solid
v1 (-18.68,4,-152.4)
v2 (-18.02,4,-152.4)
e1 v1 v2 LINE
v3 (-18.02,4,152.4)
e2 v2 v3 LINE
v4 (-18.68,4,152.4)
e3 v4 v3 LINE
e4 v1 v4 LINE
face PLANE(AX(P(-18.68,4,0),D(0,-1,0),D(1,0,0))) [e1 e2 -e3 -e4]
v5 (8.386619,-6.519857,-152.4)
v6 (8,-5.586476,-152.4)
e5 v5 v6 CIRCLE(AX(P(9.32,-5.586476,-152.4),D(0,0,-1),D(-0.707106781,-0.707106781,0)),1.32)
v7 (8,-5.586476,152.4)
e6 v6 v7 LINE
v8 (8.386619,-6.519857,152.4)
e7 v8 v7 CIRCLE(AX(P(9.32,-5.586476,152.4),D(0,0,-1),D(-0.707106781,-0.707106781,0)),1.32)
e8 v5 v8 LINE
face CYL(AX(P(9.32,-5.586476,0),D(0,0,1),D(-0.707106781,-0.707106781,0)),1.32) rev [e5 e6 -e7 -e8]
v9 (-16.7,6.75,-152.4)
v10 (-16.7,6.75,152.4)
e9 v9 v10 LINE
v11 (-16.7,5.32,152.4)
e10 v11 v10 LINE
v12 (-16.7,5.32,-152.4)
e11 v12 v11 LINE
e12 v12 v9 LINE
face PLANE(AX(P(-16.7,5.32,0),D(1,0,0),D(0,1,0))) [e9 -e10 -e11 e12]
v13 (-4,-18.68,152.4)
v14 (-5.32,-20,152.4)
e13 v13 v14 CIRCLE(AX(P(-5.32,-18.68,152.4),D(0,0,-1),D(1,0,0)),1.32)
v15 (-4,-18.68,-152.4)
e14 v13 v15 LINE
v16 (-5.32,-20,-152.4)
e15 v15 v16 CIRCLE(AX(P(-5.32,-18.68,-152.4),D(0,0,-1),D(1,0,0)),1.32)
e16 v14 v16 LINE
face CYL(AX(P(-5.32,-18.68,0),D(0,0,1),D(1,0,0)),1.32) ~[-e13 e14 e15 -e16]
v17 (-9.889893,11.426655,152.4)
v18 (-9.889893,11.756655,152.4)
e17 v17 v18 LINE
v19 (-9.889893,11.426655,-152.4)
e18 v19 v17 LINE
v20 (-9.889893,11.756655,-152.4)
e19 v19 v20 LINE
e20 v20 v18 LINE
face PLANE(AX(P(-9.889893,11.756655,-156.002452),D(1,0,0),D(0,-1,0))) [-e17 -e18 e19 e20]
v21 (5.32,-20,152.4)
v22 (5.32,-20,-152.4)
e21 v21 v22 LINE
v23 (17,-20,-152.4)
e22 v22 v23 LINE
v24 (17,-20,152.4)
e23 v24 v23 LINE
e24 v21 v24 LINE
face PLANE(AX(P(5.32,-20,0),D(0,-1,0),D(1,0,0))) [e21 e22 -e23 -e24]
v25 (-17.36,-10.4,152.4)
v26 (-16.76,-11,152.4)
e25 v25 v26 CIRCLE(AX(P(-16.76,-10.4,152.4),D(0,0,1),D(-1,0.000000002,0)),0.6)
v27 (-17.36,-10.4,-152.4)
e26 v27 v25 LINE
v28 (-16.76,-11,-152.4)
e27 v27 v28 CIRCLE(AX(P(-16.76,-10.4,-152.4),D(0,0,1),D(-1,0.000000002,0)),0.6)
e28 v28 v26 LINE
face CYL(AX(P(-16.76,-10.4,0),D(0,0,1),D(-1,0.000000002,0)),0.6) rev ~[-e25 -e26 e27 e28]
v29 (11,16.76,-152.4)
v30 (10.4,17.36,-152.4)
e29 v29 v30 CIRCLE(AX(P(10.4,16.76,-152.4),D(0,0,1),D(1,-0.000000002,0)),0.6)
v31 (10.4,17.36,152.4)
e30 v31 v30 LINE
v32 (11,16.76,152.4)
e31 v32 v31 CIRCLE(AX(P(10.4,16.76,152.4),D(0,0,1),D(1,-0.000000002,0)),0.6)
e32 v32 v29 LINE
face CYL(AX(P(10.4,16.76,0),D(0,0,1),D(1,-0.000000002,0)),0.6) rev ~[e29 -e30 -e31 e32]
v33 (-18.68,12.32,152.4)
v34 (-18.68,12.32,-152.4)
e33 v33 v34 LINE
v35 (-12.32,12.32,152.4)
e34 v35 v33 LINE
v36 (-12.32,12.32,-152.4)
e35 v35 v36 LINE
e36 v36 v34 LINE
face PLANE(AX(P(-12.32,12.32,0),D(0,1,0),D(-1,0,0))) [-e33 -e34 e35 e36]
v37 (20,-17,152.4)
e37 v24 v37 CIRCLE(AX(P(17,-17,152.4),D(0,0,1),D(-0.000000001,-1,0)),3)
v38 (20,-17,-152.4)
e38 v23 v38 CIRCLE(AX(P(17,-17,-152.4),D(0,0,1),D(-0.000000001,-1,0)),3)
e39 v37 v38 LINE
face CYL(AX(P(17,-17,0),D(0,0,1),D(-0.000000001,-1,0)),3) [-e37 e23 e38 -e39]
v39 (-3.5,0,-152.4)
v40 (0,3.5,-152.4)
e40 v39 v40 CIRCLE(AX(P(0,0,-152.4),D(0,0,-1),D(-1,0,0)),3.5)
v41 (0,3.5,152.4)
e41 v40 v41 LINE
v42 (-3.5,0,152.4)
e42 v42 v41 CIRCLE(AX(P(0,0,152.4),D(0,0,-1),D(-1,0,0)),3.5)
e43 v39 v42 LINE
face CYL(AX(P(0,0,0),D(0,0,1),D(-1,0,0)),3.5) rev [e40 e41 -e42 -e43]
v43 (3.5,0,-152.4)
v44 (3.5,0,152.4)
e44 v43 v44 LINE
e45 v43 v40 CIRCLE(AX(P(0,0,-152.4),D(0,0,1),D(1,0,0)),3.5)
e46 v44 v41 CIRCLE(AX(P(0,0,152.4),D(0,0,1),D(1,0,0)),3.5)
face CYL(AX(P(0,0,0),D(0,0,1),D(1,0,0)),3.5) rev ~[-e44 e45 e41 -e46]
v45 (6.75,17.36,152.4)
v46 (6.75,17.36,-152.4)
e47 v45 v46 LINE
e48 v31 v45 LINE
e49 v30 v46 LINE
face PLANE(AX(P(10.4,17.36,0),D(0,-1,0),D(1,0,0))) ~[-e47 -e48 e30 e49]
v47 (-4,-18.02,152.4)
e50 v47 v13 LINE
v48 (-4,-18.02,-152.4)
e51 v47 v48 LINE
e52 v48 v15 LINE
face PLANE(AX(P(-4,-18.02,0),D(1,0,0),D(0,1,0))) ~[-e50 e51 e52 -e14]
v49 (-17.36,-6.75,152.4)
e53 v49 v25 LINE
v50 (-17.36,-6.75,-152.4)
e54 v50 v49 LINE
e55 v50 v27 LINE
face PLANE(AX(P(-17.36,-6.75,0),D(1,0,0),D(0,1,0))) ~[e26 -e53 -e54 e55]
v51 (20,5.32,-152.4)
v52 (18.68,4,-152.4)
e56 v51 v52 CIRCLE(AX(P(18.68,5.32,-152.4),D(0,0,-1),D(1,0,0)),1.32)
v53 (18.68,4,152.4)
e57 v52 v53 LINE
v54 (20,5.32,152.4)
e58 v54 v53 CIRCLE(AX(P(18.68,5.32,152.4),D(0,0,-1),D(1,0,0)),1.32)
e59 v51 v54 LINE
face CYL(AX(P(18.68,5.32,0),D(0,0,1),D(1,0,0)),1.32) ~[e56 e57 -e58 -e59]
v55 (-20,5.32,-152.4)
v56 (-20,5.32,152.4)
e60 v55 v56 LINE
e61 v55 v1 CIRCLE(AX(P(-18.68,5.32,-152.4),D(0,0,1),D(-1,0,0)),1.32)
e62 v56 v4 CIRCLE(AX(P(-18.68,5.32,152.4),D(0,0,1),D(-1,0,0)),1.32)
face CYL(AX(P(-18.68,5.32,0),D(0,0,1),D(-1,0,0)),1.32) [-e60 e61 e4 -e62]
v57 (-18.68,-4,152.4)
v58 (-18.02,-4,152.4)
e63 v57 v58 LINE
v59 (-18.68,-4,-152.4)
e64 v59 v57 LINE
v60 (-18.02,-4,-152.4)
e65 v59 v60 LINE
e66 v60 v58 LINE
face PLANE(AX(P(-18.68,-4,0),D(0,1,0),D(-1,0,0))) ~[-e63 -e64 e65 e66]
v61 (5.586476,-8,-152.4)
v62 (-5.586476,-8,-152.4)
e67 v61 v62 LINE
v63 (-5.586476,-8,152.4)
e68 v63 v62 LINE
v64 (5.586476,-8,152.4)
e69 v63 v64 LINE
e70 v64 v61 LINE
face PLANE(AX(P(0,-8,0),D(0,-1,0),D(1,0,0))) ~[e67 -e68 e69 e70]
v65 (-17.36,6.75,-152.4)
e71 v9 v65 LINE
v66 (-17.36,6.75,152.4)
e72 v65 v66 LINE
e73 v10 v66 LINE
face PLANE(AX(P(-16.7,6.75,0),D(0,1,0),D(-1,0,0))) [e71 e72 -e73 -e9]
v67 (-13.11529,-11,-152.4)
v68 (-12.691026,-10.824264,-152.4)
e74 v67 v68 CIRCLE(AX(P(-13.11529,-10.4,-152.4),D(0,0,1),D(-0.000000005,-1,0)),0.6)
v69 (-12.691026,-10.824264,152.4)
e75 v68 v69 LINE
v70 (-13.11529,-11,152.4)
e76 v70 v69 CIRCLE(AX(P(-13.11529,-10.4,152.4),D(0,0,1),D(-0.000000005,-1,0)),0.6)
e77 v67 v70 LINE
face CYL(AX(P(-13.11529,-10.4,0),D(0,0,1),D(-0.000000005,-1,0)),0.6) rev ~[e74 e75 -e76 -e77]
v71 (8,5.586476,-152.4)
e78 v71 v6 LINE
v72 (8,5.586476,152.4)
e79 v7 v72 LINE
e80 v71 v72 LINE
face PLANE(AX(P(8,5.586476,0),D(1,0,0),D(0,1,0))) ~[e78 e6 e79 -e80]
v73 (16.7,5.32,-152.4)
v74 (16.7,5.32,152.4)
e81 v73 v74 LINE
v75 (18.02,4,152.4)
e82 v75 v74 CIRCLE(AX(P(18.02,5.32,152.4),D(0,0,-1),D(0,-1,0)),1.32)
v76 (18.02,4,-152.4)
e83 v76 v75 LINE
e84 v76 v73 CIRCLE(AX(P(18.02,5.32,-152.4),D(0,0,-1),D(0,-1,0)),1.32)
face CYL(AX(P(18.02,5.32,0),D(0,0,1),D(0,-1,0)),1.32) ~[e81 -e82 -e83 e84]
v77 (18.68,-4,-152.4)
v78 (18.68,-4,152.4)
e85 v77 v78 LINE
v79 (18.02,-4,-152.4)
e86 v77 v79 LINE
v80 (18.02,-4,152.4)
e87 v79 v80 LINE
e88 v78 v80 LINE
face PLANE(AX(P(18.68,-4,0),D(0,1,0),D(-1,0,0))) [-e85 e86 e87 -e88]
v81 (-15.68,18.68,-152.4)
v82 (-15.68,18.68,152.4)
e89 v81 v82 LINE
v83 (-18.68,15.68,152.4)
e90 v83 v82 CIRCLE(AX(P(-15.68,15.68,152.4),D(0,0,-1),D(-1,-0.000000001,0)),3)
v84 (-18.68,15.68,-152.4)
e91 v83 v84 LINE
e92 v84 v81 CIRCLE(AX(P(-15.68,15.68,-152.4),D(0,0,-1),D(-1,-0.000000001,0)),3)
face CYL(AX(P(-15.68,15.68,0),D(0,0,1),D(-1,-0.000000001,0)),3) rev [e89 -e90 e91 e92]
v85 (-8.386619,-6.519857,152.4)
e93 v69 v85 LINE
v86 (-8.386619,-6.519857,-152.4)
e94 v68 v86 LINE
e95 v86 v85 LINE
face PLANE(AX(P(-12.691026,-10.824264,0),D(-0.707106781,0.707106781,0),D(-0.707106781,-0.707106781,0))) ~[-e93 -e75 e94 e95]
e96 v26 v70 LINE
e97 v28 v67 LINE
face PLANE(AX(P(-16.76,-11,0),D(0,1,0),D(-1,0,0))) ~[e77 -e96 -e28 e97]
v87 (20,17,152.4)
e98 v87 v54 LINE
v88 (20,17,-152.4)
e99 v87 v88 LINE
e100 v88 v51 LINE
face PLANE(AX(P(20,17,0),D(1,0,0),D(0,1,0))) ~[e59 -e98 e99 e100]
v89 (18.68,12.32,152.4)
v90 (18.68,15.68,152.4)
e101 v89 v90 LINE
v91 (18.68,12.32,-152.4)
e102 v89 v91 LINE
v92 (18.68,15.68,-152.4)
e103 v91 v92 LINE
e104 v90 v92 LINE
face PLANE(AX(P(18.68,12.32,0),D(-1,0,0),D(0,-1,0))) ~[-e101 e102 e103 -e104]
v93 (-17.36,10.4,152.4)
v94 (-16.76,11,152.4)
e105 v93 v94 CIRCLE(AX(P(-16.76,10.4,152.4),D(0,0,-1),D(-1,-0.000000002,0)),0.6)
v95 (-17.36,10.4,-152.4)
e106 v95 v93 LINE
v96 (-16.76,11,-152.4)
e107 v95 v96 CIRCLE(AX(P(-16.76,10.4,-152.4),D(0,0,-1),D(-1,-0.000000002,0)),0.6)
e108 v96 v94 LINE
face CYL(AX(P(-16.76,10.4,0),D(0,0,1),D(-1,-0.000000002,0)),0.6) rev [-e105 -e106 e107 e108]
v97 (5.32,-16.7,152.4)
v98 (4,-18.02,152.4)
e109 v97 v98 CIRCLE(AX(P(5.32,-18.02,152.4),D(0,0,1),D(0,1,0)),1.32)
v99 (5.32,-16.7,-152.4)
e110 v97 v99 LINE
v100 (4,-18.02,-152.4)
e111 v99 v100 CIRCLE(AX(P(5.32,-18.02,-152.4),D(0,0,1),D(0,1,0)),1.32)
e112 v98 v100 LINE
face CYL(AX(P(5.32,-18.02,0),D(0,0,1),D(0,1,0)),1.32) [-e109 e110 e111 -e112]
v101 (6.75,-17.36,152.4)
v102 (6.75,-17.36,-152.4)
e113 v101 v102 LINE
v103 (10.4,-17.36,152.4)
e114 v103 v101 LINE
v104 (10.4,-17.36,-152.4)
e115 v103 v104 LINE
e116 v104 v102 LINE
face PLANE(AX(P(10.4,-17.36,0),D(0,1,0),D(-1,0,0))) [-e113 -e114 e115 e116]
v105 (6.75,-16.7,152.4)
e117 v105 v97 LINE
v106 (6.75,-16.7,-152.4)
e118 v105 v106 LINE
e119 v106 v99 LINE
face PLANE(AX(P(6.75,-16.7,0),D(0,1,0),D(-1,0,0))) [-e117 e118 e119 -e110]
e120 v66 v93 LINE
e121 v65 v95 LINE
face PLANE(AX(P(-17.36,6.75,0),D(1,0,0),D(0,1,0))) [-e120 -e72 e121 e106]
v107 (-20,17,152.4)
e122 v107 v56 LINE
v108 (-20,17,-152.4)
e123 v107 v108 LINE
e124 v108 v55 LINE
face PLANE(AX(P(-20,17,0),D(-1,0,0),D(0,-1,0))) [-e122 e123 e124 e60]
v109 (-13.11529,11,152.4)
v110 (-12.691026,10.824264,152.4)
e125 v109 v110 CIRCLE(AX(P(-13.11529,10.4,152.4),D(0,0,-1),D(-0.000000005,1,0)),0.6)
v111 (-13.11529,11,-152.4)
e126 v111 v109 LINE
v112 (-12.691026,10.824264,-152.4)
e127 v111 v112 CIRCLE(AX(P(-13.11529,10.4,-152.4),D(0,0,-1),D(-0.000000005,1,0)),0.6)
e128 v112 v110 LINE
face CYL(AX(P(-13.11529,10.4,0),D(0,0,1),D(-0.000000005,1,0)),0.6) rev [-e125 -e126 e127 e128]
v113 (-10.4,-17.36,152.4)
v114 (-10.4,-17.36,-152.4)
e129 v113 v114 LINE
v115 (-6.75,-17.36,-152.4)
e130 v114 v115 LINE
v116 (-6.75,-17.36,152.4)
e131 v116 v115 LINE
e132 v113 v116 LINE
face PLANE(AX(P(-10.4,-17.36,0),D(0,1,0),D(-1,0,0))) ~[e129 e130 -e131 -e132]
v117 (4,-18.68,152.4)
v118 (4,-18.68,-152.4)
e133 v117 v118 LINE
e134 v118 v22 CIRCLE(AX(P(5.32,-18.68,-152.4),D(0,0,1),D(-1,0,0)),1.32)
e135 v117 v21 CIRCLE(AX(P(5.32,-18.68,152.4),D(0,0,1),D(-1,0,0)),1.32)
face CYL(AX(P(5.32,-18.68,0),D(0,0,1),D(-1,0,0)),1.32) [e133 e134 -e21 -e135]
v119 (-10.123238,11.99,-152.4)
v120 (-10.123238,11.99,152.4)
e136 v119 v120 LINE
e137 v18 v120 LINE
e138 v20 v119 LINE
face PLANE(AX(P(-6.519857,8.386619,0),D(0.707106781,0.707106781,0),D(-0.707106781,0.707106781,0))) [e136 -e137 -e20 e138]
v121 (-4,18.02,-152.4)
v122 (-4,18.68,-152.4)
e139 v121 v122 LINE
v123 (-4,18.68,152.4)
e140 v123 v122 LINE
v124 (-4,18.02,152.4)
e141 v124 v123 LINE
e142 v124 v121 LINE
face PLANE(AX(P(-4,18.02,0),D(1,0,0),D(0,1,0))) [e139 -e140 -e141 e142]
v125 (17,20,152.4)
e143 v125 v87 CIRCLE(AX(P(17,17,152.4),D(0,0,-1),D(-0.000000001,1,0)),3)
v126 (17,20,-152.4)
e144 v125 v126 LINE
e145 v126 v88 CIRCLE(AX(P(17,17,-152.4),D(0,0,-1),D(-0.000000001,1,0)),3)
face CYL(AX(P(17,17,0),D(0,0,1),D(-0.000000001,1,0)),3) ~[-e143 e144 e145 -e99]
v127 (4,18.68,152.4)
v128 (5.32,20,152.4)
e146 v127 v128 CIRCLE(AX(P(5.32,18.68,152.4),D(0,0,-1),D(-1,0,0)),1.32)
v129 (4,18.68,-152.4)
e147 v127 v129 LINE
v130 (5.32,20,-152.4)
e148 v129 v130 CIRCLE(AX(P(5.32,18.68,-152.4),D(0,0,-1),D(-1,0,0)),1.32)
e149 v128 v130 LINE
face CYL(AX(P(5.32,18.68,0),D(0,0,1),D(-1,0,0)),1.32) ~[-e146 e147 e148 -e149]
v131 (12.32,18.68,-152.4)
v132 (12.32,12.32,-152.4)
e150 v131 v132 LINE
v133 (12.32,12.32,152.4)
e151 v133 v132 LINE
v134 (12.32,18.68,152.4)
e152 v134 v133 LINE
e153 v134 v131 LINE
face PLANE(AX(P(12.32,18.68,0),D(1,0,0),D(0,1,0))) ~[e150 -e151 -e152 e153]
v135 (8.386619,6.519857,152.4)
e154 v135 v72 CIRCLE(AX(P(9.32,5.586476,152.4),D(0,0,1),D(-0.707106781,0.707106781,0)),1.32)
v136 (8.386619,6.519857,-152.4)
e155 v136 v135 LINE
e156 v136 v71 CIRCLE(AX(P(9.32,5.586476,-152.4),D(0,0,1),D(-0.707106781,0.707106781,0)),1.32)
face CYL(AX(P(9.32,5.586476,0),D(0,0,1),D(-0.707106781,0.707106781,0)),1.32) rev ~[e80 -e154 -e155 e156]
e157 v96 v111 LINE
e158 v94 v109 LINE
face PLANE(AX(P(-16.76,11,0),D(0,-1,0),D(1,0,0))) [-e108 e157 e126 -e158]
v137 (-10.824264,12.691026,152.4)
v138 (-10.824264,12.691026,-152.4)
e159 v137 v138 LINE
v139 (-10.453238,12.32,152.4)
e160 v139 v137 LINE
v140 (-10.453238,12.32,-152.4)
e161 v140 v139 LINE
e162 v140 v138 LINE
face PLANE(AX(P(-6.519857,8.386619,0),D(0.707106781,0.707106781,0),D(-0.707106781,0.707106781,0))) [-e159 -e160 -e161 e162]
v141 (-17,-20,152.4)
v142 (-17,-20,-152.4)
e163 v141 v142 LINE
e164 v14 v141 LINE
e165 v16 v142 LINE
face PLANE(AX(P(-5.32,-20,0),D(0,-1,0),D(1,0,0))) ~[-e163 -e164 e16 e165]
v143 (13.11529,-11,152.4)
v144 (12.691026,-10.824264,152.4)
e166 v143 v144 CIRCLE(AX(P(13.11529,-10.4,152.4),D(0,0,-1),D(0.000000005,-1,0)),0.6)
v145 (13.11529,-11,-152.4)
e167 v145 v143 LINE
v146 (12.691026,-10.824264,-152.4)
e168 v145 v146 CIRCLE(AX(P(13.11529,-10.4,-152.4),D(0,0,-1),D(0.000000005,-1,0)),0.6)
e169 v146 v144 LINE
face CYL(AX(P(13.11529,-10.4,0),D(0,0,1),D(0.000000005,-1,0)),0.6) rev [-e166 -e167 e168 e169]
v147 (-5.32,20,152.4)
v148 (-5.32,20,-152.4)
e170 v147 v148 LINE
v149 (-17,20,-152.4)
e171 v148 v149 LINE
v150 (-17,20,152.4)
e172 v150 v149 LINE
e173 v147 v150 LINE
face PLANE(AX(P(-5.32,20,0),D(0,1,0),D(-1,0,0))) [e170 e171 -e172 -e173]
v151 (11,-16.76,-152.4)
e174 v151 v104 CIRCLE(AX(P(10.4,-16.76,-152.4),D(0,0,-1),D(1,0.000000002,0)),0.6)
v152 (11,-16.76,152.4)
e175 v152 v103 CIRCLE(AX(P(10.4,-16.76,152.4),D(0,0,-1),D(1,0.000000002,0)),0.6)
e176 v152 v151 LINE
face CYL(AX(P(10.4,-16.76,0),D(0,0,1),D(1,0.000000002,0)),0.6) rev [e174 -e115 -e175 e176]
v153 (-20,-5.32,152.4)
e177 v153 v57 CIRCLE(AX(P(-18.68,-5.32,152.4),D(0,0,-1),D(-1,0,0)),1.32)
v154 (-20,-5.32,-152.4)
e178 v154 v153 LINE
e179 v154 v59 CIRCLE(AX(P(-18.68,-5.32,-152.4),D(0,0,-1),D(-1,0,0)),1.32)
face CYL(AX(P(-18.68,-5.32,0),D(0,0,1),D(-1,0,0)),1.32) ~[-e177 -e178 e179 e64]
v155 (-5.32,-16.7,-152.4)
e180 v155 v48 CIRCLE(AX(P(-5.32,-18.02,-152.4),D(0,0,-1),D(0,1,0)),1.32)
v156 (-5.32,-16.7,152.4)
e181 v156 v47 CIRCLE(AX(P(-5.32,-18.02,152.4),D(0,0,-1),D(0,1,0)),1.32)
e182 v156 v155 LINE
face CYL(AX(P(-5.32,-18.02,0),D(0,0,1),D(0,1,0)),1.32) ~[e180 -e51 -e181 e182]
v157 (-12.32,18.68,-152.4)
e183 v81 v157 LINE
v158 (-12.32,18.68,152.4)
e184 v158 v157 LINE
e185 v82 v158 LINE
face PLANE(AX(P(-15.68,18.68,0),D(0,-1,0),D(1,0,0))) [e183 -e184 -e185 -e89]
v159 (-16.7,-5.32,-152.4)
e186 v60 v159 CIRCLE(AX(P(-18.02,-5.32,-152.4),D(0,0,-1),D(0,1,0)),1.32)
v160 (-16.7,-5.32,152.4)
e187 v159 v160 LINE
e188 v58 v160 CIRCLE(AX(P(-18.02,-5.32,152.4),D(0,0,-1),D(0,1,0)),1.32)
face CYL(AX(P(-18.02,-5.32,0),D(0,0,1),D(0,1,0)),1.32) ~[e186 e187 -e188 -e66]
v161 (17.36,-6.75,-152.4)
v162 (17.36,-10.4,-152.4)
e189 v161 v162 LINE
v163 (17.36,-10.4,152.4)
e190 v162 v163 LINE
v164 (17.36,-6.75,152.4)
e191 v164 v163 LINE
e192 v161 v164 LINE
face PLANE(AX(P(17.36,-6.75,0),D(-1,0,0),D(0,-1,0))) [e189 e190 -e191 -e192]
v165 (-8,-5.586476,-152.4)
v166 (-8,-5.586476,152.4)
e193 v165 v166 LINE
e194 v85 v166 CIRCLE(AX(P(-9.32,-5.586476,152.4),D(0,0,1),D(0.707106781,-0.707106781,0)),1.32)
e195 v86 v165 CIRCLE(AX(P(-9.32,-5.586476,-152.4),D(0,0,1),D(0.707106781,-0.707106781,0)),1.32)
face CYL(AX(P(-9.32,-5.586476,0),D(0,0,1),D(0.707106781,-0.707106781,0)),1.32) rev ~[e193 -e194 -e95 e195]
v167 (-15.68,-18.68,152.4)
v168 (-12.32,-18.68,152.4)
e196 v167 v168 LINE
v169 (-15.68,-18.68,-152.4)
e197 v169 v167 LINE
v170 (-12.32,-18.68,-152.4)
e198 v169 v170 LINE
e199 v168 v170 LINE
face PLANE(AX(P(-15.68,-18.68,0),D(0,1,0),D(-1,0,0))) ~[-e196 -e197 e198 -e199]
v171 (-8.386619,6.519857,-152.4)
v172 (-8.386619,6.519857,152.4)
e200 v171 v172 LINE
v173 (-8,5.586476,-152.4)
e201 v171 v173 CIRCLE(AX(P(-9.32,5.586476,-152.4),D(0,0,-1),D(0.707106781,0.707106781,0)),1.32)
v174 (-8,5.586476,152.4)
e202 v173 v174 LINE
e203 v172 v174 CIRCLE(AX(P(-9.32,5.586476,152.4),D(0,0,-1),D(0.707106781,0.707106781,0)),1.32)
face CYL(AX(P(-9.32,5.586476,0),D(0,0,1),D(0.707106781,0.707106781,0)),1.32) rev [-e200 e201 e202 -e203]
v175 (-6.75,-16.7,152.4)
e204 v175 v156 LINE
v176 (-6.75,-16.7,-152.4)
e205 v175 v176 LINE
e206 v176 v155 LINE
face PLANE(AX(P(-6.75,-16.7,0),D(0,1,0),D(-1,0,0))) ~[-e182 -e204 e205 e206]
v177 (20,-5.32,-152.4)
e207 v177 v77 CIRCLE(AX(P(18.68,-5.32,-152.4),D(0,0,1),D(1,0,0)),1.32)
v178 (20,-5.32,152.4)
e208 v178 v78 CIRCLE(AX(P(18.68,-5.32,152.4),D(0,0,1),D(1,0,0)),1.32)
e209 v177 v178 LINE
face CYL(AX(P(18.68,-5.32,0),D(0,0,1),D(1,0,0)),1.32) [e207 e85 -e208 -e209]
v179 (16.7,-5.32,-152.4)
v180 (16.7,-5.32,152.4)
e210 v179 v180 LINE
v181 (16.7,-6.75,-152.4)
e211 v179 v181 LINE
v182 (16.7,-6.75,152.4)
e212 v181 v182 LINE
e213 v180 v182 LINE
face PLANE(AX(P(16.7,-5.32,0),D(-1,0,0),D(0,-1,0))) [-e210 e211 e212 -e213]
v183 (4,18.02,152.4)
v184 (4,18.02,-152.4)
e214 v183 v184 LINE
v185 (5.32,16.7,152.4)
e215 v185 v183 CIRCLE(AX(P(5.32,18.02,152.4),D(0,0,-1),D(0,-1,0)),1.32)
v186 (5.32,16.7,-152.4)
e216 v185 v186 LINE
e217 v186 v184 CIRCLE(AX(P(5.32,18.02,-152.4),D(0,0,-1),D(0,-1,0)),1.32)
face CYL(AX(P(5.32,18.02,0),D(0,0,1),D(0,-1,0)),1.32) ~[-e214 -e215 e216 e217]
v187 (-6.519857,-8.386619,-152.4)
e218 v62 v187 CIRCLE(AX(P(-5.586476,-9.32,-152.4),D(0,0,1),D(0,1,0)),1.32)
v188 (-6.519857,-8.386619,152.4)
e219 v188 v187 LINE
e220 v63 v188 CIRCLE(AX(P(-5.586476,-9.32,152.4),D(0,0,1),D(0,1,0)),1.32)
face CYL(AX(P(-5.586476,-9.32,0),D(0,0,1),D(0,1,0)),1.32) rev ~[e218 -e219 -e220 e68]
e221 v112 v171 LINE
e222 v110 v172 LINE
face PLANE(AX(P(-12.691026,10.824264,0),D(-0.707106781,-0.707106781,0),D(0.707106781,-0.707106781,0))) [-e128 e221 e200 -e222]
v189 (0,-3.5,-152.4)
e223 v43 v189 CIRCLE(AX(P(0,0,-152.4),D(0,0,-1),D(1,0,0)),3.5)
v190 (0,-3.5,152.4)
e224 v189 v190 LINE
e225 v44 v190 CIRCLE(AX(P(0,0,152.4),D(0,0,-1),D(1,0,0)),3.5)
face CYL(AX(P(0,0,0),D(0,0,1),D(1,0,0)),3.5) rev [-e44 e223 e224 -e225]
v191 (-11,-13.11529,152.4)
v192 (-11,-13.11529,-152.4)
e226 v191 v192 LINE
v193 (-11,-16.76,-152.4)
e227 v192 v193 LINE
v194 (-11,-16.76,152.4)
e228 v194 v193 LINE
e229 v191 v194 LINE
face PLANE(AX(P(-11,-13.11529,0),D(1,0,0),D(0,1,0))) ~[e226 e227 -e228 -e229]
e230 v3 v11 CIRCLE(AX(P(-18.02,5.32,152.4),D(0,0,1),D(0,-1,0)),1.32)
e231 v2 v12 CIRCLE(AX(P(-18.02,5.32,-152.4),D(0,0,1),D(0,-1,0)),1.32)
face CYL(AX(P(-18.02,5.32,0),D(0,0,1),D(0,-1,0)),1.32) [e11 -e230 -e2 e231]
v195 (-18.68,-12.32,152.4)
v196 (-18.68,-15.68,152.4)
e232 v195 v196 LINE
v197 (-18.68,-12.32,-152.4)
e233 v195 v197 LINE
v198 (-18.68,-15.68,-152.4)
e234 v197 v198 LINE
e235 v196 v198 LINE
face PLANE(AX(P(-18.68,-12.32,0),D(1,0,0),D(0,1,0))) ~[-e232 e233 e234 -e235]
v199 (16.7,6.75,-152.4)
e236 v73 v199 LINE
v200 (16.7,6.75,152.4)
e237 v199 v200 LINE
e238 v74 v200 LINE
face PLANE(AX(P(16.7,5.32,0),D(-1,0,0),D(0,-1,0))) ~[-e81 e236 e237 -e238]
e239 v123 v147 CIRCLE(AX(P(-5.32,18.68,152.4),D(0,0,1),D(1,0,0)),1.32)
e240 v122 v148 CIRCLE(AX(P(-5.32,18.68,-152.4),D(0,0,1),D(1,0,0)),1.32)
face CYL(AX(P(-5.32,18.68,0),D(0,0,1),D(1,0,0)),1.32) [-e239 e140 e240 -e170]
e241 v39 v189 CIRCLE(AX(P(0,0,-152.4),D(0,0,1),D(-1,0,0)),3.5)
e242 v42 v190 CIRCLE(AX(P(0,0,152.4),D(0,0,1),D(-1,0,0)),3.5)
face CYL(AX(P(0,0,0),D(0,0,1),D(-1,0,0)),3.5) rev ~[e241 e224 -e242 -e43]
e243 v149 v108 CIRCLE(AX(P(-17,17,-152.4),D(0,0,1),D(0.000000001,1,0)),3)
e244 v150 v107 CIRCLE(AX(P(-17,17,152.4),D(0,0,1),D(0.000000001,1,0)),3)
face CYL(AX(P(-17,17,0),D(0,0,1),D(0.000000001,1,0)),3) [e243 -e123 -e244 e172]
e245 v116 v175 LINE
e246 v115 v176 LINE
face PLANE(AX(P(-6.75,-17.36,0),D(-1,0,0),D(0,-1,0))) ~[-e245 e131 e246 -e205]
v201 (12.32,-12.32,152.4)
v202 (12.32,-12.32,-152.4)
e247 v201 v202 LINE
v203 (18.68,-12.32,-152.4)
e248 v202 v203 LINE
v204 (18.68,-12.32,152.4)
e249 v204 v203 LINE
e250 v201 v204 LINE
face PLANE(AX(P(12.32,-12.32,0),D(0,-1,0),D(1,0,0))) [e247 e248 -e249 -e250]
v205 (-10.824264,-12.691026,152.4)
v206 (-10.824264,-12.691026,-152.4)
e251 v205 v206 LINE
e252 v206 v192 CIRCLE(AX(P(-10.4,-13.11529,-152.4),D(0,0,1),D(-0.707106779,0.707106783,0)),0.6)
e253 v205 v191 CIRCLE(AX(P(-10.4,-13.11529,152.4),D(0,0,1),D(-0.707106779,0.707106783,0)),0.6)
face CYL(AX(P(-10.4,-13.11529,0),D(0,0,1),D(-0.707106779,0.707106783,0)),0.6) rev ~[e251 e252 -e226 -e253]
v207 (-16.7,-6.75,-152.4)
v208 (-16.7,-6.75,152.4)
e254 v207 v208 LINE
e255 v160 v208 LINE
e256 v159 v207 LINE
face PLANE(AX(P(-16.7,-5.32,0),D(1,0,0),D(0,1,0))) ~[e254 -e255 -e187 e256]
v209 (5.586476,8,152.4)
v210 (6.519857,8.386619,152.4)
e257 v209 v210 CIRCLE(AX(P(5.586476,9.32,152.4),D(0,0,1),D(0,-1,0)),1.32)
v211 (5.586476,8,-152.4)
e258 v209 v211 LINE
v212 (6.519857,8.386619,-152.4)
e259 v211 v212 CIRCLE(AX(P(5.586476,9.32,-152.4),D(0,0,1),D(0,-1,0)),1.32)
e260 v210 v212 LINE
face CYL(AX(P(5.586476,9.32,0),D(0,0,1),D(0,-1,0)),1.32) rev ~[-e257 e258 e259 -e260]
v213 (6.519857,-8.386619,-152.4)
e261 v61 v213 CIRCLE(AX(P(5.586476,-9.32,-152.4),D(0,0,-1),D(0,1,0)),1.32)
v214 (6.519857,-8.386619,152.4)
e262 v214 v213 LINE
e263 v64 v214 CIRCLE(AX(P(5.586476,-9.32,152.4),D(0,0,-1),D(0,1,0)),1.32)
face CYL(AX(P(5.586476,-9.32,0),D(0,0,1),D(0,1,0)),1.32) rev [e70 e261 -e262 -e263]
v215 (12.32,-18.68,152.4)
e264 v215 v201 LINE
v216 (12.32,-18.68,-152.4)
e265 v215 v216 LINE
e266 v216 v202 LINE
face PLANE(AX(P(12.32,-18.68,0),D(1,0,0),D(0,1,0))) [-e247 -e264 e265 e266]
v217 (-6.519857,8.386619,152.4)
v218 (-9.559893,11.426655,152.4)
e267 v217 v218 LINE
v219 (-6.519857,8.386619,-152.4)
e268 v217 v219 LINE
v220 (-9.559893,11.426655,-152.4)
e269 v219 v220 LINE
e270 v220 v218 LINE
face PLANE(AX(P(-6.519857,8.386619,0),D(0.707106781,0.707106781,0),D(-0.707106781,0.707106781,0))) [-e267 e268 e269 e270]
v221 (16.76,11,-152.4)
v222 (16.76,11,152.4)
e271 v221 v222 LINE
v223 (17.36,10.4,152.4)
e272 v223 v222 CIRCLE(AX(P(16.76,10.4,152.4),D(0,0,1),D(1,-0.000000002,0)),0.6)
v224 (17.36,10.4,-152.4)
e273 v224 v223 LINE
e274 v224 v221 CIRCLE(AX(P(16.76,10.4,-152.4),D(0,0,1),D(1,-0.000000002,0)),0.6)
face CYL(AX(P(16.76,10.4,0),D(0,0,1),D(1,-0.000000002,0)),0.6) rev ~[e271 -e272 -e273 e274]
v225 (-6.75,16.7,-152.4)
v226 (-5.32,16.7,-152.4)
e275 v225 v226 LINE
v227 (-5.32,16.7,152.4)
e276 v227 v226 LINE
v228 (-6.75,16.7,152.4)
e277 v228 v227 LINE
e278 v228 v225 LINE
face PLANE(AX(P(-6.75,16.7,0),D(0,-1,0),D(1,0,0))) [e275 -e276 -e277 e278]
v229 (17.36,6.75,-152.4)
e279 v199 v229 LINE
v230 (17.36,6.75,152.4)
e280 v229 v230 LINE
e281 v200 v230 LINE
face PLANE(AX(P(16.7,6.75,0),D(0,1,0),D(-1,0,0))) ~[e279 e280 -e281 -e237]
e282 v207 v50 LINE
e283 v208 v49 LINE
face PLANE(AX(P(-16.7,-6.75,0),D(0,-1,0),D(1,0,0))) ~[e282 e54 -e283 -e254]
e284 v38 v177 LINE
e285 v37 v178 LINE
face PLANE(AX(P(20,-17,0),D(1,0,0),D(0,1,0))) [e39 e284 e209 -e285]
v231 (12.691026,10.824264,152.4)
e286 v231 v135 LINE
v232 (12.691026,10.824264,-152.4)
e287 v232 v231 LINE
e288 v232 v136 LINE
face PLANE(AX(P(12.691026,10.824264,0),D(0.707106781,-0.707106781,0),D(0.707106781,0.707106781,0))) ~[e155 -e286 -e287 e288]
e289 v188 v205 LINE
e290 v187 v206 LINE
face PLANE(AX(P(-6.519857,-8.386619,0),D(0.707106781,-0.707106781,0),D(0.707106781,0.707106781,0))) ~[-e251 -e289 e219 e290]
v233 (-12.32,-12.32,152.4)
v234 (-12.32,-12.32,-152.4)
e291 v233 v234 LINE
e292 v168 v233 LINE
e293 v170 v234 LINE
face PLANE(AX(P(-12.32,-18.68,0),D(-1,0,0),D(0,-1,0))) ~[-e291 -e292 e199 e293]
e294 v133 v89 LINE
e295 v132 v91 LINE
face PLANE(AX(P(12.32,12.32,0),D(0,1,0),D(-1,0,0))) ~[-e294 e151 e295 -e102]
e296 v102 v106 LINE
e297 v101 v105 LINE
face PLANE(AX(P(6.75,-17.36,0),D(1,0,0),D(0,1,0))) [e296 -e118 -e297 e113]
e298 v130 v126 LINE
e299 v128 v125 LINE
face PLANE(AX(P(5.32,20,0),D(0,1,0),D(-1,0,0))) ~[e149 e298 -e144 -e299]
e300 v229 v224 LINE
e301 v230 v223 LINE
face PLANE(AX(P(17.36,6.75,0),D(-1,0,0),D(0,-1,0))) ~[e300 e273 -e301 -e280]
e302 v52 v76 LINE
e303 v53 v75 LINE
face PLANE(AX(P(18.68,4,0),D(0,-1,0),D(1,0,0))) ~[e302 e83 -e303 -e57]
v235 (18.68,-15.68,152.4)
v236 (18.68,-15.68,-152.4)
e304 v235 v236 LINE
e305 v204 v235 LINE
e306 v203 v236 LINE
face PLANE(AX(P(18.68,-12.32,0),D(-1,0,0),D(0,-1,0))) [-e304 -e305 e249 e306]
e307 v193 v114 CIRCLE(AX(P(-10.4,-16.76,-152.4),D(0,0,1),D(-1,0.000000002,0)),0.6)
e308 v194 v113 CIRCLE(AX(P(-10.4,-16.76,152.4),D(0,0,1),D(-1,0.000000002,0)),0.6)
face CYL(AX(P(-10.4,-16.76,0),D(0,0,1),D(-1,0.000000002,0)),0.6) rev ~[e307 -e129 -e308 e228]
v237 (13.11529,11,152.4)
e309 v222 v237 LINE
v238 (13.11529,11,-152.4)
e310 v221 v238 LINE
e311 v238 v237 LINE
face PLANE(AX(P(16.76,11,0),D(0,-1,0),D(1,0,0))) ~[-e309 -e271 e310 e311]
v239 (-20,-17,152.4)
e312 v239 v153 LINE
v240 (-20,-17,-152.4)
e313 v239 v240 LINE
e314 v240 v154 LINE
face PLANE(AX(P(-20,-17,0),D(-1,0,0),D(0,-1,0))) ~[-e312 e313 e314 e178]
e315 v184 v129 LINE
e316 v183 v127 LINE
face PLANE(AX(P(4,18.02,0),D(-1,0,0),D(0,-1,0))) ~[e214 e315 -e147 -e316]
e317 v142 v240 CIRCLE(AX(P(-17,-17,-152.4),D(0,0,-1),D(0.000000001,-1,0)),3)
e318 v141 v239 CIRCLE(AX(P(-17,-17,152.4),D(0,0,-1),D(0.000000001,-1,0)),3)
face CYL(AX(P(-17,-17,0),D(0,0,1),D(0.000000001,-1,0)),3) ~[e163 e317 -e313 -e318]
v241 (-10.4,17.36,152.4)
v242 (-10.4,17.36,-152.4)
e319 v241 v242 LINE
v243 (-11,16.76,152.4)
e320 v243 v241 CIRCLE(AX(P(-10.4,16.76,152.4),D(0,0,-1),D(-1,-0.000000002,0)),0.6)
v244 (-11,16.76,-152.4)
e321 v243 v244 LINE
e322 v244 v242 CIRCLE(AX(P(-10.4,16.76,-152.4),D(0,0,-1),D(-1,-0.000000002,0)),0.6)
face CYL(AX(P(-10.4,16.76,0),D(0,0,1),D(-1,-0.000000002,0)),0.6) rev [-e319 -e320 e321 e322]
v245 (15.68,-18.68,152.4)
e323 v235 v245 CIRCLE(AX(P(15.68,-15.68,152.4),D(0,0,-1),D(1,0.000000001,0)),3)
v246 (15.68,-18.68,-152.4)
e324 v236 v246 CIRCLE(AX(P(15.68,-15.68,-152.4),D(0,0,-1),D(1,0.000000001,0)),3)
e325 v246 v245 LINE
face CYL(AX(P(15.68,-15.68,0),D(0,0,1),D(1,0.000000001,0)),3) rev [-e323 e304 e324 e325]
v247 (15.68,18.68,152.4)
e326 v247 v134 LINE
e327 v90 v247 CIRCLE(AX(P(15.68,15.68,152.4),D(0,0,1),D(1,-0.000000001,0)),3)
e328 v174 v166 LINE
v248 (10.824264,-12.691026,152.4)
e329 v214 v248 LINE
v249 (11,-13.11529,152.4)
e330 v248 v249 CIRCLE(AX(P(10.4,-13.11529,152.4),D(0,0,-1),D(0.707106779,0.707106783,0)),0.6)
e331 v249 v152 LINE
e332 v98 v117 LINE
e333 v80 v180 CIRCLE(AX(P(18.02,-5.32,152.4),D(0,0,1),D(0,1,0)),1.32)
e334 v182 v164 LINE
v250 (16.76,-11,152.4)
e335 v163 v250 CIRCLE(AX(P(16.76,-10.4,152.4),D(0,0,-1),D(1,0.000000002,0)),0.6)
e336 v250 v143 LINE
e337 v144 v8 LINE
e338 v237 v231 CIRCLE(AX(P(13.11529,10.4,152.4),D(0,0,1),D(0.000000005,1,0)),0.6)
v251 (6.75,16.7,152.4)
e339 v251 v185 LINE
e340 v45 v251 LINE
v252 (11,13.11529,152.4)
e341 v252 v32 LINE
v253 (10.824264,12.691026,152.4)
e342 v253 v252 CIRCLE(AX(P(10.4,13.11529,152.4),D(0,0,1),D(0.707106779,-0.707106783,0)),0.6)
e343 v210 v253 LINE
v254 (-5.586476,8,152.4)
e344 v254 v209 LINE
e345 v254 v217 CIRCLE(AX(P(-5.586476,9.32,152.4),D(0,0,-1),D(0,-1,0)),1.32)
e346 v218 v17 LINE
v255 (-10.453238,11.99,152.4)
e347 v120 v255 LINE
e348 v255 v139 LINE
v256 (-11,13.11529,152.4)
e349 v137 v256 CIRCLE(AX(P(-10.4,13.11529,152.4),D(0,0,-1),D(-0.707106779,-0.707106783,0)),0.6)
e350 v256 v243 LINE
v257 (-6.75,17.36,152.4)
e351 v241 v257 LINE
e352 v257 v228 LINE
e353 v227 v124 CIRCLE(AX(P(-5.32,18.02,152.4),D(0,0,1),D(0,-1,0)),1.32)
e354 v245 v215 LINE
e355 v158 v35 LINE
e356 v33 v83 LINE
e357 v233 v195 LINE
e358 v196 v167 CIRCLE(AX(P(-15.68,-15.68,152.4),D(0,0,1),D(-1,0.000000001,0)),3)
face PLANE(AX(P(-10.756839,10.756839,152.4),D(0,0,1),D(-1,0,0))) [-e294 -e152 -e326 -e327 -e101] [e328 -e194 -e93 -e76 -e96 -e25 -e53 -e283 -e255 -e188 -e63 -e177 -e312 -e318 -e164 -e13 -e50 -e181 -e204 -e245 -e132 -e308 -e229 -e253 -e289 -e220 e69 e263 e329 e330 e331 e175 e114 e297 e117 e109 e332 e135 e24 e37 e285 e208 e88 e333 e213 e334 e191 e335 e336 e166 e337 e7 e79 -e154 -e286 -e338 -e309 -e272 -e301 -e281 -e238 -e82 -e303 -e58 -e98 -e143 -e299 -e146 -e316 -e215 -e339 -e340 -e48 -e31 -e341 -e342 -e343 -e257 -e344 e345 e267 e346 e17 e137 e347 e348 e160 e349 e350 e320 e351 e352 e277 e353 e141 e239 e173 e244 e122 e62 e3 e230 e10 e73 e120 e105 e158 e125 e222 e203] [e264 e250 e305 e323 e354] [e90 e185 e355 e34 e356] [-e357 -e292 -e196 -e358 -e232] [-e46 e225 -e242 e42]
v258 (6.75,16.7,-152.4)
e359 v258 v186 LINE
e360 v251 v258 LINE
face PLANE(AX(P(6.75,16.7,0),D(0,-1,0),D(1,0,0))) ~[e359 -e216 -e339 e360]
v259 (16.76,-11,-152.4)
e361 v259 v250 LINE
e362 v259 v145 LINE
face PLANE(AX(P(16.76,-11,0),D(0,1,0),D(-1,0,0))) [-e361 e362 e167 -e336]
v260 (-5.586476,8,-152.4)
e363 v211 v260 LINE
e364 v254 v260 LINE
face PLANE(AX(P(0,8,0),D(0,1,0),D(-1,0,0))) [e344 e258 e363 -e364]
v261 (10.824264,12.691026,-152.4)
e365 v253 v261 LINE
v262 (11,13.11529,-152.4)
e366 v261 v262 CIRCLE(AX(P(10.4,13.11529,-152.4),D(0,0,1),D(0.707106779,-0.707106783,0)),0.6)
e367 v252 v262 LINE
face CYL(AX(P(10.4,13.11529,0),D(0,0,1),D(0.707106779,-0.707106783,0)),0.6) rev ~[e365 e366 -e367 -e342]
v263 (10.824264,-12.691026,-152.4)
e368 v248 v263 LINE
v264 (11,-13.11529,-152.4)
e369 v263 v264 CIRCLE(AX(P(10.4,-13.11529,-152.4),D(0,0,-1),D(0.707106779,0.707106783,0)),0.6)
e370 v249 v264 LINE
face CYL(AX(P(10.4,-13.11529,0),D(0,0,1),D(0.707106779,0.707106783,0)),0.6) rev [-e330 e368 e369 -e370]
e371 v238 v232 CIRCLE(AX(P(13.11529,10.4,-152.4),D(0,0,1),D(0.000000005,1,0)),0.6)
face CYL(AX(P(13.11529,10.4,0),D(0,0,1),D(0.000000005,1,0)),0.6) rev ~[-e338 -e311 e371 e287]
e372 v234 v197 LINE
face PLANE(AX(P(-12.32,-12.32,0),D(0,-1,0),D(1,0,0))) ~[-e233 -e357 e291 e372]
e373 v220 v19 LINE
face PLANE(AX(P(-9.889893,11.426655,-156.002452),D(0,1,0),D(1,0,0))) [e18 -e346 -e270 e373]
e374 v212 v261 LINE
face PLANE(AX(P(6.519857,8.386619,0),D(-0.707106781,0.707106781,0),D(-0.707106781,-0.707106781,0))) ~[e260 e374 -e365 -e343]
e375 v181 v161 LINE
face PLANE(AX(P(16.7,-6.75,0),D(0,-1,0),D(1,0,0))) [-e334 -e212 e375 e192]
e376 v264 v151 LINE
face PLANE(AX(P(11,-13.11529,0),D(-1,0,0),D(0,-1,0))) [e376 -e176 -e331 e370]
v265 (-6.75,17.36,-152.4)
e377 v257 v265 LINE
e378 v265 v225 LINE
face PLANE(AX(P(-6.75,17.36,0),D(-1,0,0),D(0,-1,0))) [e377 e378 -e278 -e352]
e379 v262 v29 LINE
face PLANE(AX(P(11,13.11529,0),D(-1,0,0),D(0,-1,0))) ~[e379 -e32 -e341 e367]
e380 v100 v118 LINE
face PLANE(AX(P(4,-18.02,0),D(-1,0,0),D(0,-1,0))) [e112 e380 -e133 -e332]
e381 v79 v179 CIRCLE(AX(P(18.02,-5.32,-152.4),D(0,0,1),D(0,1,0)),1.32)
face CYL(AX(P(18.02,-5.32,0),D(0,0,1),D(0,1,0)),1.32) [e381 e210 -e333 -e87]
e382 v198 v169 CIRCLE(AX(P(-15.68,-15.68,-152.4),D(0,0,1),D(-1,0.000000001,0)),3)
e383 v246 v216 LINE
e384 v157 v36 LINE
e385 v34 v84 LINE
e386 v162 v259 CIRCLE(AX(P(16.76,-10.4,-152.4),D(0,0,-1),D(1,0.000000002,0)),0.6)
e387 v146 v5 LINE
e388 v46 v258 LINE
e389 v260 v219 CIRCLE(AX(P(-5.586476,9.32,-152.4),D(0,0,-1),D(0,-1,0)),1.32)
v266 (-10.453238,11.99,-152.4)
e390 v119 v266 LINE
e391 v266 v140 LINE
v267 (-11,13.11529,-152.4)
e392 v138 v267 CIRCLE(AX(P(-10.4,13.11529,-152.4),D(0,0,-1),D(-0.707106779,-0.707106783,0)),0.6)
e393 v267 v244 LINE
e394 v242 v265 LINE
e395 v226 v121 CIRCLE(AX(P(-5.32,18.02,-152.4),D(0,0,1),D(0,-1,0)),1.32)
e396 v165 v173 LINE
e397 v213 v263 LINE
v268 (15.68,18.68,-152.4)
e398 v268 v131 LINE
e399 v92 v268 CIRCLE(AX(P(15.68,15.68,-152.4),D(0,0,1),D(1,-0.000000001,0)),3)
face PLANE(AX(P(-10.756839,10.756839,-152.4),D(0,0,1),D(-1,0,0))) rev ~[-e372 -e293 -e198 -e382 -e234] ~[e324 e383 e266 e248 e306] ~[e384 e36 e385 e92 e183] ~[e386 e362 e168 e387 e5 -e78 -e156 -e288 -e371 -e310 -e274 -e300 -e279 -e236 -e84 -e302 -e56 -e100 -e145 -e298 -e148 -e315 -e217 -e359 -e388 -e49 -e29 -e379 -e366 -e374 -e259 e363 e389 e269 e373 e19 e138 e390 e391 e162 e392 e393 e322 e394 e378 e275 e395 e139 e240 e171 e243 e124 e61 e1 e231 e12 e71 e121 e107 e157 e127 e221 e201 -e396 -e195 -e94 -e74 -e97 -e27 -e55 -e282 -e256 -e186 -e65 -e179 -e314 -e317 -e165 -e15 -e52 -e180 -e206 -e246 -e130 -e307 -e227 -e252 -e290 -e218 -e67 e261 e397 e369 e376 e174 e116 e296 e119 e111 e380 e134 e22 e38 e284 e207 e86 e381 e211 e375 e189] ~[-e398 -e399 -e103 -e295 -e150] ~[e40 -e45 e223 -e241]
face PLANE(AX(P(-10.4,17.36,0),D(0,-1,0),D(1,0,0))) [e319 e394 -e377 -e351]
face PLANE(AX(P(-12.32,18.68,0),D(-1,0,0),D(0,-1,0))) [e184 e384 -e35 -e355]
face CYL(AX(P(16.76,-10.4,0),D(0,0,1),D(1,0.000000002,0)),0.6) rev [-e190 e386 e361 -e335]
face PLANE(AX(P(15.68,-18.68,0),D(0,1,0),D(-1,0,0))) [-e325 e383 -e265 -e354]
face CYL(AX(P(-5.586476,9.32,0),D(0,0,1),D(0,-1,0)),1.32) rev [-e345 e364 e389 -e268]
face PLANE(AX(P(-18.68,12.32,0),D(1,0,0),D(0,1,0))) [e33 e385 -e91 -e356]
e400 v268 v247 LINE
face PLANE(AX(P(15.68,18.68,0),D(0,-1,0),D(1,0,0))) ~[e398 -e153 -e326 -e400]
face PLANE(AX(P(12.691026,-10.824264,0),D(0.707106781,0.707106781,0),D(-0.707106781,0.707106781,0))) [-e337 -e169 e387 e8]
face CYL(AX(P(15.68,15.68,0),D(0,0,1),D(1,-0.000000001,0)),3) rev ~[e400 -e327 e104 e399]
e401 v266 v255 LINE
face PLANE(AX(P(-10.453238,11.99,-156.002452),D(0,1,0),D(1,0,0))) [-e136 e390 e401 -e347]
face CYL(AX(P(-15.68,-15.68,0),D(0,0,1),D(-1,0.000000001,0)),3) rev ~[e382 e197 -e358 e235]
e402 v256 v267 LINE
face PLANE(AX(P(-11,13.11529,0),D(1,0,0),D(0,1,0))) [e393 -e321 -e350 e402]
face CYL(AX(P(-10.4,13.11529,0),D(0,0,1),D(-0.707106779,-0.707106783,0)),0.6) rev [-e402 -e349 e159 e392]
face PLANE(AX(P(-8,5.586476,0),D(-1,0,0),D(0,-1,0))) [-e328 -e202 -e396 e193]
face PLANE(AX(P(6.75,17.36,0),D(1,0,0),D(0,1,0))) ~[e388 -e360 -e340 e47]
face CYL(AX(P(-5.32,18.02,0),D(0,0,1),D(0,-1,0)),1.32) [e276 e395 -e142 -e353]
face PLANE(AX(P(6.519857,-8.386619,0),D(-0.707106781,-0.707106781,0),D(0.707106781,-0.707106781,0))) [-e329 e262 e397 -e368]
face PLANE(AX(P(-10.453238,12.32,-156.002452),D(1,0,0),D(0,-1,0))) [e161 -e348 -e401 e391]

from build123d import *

# Parameters (mm, degrees)
BOSS_EXTRUDE1_DEPTH     = 152.4
CUT_EXTRUDE1_DEPTH      = 156.002451594
CUT_EXTRUDE1_DEPTH_BACK = 156.002451594


with BuildPart() as part:
    # Sketch4 → Boss-Extrude1 (new, symmetric)
    with BuildSketch(Plane.XY):
        with BuildLine():
            Line((20, -17), (20, -5.32))
            ThreePointArc((20, -5.32), (19.613380951, -4.386619049), (18.68, -4))
            Line((18.68, -4), (18.02, -4))
            ThreePointArc((18.02, -4), (17.086619049, -4.386619049), (16.7, -5.32))
            Line((16.7, -5.32), (16.7, -6.75))
            Line((16.7, -6.75), (17.36, -6.75))
            Line((17.36, -6.75), (17.36, -10.4))
            ThreePointArc((17.36, -10.4), (17.184264069, -10.824264069), (16.76, -11))
            Line((16.76, -11), (13.11529004, -11))
            ThreePointArc((13.11529004, -11), (12.88567998, -10.95432772), (12.691025971, -10.824264069))
            Line((12.691025971, -10.824264069), (8.386619049, -6.519857147))
            ThreePointArc((8.386619049, -6.519857147), (8.100479017, -6.091618326), (8, -5.586476195))
            Line((8, -5.586476195), (8, 0))
            Line((8, 0), (3.5, 0))
            ThreePointArc((3.5, 0), (2.474873734, -2.474873734), (0, -3.5))
            Line((0, -3.5), (0, -8))
            Line((0, -8), (5.586476195, -8))
            ThreePointArc((5.586476195, -8), (6.091618326, -8.100479017), (6.519857147, -8.386619049))
            Line((6.519857147, -8.386619049), (10.824264069, -12.691025971))
            ThreePointArc((10.824264069, -12.691025971), (10.95432772, -12.88567998), (11, -13.11529004))
            Line((11, -13.11529004), (11, -16.76))
            ThreePointArc((11, -16.76), (10.824264069, -17.184264069), (10.4, -17.36))
            Line((10.4, -17.36), (6.75, -17.36))
            Line((6.75, -17.36), (6.75, -16.7))
            Line((6.75, -16.7), (5.32, -16.7))
            ThreePointArc((5.32, -16.7), (4.386619049, -17.086619049), (4, -18.02))
            Line((4, -18.02), (4, -18.68))
            ThreePointArc((4, -18.68), (4.386619049, -19.613380951), (5.32, -20))
            Line((5.32, -20), (17, -20))
            ThreePointArc((17, -20), (19.121320344, -19.121320344), (20, -17))
        make_face()
        with BuildLine():
            Line((15.68, -18.68), (12.32, -18.68))
            Line((12.32, -18.68), (12.32, -12.32))
            Line((12.32, -12.32), (18.68, -12.32))
            Line((18.68, -12.32), (18.68, -15.68))
            ThreePointArc((18.68, -15.68), (17.801320344, -17.801320344), (15.68, -18.68))
        make_face(mode=Mode.SUBTRACT)
    extrude(amount=BOSS_EXTRUDE1_DEPTH, both=True)

    # Mirror1: part across plane


with BuildPart() as part_1:
    add(part.part)
    add(part.part.mirror(Plane(origin=(0, 0, 0), x_dir=(0, 0, 1), z_dir=(1, 0, 0))))

    # Mirror2: part across plane


with BuildPart() as part_2:
    add(part_1.part)
    add(part_1.part.mirror(Plane.ZX))

    # Sketch5 → Cut-Extrude1 (cut, two sides: drawn at the far end of the back side and taken through both)
    with BuildSketch(Plane.XY.offset(-CUT_EXTRUDE1_DEPTH_BACK)):
        Polygon((-10.453238098, 12.32), (-10.453238098, 11.99), (-10.123238098, 11.99), (-9.88989286, 11.756654762), (-9.88989286, 11.426654762), (-9.55989286, 11.426654762), (-9.55989286, 12.32), align=None)
    extrude(amount=CUT_EXTRUDE1_DEPTH + CUT_EXTRUDE1_DEPTH_BACK, mode=Mode.SUBTRACT)


solid = part_2.part
